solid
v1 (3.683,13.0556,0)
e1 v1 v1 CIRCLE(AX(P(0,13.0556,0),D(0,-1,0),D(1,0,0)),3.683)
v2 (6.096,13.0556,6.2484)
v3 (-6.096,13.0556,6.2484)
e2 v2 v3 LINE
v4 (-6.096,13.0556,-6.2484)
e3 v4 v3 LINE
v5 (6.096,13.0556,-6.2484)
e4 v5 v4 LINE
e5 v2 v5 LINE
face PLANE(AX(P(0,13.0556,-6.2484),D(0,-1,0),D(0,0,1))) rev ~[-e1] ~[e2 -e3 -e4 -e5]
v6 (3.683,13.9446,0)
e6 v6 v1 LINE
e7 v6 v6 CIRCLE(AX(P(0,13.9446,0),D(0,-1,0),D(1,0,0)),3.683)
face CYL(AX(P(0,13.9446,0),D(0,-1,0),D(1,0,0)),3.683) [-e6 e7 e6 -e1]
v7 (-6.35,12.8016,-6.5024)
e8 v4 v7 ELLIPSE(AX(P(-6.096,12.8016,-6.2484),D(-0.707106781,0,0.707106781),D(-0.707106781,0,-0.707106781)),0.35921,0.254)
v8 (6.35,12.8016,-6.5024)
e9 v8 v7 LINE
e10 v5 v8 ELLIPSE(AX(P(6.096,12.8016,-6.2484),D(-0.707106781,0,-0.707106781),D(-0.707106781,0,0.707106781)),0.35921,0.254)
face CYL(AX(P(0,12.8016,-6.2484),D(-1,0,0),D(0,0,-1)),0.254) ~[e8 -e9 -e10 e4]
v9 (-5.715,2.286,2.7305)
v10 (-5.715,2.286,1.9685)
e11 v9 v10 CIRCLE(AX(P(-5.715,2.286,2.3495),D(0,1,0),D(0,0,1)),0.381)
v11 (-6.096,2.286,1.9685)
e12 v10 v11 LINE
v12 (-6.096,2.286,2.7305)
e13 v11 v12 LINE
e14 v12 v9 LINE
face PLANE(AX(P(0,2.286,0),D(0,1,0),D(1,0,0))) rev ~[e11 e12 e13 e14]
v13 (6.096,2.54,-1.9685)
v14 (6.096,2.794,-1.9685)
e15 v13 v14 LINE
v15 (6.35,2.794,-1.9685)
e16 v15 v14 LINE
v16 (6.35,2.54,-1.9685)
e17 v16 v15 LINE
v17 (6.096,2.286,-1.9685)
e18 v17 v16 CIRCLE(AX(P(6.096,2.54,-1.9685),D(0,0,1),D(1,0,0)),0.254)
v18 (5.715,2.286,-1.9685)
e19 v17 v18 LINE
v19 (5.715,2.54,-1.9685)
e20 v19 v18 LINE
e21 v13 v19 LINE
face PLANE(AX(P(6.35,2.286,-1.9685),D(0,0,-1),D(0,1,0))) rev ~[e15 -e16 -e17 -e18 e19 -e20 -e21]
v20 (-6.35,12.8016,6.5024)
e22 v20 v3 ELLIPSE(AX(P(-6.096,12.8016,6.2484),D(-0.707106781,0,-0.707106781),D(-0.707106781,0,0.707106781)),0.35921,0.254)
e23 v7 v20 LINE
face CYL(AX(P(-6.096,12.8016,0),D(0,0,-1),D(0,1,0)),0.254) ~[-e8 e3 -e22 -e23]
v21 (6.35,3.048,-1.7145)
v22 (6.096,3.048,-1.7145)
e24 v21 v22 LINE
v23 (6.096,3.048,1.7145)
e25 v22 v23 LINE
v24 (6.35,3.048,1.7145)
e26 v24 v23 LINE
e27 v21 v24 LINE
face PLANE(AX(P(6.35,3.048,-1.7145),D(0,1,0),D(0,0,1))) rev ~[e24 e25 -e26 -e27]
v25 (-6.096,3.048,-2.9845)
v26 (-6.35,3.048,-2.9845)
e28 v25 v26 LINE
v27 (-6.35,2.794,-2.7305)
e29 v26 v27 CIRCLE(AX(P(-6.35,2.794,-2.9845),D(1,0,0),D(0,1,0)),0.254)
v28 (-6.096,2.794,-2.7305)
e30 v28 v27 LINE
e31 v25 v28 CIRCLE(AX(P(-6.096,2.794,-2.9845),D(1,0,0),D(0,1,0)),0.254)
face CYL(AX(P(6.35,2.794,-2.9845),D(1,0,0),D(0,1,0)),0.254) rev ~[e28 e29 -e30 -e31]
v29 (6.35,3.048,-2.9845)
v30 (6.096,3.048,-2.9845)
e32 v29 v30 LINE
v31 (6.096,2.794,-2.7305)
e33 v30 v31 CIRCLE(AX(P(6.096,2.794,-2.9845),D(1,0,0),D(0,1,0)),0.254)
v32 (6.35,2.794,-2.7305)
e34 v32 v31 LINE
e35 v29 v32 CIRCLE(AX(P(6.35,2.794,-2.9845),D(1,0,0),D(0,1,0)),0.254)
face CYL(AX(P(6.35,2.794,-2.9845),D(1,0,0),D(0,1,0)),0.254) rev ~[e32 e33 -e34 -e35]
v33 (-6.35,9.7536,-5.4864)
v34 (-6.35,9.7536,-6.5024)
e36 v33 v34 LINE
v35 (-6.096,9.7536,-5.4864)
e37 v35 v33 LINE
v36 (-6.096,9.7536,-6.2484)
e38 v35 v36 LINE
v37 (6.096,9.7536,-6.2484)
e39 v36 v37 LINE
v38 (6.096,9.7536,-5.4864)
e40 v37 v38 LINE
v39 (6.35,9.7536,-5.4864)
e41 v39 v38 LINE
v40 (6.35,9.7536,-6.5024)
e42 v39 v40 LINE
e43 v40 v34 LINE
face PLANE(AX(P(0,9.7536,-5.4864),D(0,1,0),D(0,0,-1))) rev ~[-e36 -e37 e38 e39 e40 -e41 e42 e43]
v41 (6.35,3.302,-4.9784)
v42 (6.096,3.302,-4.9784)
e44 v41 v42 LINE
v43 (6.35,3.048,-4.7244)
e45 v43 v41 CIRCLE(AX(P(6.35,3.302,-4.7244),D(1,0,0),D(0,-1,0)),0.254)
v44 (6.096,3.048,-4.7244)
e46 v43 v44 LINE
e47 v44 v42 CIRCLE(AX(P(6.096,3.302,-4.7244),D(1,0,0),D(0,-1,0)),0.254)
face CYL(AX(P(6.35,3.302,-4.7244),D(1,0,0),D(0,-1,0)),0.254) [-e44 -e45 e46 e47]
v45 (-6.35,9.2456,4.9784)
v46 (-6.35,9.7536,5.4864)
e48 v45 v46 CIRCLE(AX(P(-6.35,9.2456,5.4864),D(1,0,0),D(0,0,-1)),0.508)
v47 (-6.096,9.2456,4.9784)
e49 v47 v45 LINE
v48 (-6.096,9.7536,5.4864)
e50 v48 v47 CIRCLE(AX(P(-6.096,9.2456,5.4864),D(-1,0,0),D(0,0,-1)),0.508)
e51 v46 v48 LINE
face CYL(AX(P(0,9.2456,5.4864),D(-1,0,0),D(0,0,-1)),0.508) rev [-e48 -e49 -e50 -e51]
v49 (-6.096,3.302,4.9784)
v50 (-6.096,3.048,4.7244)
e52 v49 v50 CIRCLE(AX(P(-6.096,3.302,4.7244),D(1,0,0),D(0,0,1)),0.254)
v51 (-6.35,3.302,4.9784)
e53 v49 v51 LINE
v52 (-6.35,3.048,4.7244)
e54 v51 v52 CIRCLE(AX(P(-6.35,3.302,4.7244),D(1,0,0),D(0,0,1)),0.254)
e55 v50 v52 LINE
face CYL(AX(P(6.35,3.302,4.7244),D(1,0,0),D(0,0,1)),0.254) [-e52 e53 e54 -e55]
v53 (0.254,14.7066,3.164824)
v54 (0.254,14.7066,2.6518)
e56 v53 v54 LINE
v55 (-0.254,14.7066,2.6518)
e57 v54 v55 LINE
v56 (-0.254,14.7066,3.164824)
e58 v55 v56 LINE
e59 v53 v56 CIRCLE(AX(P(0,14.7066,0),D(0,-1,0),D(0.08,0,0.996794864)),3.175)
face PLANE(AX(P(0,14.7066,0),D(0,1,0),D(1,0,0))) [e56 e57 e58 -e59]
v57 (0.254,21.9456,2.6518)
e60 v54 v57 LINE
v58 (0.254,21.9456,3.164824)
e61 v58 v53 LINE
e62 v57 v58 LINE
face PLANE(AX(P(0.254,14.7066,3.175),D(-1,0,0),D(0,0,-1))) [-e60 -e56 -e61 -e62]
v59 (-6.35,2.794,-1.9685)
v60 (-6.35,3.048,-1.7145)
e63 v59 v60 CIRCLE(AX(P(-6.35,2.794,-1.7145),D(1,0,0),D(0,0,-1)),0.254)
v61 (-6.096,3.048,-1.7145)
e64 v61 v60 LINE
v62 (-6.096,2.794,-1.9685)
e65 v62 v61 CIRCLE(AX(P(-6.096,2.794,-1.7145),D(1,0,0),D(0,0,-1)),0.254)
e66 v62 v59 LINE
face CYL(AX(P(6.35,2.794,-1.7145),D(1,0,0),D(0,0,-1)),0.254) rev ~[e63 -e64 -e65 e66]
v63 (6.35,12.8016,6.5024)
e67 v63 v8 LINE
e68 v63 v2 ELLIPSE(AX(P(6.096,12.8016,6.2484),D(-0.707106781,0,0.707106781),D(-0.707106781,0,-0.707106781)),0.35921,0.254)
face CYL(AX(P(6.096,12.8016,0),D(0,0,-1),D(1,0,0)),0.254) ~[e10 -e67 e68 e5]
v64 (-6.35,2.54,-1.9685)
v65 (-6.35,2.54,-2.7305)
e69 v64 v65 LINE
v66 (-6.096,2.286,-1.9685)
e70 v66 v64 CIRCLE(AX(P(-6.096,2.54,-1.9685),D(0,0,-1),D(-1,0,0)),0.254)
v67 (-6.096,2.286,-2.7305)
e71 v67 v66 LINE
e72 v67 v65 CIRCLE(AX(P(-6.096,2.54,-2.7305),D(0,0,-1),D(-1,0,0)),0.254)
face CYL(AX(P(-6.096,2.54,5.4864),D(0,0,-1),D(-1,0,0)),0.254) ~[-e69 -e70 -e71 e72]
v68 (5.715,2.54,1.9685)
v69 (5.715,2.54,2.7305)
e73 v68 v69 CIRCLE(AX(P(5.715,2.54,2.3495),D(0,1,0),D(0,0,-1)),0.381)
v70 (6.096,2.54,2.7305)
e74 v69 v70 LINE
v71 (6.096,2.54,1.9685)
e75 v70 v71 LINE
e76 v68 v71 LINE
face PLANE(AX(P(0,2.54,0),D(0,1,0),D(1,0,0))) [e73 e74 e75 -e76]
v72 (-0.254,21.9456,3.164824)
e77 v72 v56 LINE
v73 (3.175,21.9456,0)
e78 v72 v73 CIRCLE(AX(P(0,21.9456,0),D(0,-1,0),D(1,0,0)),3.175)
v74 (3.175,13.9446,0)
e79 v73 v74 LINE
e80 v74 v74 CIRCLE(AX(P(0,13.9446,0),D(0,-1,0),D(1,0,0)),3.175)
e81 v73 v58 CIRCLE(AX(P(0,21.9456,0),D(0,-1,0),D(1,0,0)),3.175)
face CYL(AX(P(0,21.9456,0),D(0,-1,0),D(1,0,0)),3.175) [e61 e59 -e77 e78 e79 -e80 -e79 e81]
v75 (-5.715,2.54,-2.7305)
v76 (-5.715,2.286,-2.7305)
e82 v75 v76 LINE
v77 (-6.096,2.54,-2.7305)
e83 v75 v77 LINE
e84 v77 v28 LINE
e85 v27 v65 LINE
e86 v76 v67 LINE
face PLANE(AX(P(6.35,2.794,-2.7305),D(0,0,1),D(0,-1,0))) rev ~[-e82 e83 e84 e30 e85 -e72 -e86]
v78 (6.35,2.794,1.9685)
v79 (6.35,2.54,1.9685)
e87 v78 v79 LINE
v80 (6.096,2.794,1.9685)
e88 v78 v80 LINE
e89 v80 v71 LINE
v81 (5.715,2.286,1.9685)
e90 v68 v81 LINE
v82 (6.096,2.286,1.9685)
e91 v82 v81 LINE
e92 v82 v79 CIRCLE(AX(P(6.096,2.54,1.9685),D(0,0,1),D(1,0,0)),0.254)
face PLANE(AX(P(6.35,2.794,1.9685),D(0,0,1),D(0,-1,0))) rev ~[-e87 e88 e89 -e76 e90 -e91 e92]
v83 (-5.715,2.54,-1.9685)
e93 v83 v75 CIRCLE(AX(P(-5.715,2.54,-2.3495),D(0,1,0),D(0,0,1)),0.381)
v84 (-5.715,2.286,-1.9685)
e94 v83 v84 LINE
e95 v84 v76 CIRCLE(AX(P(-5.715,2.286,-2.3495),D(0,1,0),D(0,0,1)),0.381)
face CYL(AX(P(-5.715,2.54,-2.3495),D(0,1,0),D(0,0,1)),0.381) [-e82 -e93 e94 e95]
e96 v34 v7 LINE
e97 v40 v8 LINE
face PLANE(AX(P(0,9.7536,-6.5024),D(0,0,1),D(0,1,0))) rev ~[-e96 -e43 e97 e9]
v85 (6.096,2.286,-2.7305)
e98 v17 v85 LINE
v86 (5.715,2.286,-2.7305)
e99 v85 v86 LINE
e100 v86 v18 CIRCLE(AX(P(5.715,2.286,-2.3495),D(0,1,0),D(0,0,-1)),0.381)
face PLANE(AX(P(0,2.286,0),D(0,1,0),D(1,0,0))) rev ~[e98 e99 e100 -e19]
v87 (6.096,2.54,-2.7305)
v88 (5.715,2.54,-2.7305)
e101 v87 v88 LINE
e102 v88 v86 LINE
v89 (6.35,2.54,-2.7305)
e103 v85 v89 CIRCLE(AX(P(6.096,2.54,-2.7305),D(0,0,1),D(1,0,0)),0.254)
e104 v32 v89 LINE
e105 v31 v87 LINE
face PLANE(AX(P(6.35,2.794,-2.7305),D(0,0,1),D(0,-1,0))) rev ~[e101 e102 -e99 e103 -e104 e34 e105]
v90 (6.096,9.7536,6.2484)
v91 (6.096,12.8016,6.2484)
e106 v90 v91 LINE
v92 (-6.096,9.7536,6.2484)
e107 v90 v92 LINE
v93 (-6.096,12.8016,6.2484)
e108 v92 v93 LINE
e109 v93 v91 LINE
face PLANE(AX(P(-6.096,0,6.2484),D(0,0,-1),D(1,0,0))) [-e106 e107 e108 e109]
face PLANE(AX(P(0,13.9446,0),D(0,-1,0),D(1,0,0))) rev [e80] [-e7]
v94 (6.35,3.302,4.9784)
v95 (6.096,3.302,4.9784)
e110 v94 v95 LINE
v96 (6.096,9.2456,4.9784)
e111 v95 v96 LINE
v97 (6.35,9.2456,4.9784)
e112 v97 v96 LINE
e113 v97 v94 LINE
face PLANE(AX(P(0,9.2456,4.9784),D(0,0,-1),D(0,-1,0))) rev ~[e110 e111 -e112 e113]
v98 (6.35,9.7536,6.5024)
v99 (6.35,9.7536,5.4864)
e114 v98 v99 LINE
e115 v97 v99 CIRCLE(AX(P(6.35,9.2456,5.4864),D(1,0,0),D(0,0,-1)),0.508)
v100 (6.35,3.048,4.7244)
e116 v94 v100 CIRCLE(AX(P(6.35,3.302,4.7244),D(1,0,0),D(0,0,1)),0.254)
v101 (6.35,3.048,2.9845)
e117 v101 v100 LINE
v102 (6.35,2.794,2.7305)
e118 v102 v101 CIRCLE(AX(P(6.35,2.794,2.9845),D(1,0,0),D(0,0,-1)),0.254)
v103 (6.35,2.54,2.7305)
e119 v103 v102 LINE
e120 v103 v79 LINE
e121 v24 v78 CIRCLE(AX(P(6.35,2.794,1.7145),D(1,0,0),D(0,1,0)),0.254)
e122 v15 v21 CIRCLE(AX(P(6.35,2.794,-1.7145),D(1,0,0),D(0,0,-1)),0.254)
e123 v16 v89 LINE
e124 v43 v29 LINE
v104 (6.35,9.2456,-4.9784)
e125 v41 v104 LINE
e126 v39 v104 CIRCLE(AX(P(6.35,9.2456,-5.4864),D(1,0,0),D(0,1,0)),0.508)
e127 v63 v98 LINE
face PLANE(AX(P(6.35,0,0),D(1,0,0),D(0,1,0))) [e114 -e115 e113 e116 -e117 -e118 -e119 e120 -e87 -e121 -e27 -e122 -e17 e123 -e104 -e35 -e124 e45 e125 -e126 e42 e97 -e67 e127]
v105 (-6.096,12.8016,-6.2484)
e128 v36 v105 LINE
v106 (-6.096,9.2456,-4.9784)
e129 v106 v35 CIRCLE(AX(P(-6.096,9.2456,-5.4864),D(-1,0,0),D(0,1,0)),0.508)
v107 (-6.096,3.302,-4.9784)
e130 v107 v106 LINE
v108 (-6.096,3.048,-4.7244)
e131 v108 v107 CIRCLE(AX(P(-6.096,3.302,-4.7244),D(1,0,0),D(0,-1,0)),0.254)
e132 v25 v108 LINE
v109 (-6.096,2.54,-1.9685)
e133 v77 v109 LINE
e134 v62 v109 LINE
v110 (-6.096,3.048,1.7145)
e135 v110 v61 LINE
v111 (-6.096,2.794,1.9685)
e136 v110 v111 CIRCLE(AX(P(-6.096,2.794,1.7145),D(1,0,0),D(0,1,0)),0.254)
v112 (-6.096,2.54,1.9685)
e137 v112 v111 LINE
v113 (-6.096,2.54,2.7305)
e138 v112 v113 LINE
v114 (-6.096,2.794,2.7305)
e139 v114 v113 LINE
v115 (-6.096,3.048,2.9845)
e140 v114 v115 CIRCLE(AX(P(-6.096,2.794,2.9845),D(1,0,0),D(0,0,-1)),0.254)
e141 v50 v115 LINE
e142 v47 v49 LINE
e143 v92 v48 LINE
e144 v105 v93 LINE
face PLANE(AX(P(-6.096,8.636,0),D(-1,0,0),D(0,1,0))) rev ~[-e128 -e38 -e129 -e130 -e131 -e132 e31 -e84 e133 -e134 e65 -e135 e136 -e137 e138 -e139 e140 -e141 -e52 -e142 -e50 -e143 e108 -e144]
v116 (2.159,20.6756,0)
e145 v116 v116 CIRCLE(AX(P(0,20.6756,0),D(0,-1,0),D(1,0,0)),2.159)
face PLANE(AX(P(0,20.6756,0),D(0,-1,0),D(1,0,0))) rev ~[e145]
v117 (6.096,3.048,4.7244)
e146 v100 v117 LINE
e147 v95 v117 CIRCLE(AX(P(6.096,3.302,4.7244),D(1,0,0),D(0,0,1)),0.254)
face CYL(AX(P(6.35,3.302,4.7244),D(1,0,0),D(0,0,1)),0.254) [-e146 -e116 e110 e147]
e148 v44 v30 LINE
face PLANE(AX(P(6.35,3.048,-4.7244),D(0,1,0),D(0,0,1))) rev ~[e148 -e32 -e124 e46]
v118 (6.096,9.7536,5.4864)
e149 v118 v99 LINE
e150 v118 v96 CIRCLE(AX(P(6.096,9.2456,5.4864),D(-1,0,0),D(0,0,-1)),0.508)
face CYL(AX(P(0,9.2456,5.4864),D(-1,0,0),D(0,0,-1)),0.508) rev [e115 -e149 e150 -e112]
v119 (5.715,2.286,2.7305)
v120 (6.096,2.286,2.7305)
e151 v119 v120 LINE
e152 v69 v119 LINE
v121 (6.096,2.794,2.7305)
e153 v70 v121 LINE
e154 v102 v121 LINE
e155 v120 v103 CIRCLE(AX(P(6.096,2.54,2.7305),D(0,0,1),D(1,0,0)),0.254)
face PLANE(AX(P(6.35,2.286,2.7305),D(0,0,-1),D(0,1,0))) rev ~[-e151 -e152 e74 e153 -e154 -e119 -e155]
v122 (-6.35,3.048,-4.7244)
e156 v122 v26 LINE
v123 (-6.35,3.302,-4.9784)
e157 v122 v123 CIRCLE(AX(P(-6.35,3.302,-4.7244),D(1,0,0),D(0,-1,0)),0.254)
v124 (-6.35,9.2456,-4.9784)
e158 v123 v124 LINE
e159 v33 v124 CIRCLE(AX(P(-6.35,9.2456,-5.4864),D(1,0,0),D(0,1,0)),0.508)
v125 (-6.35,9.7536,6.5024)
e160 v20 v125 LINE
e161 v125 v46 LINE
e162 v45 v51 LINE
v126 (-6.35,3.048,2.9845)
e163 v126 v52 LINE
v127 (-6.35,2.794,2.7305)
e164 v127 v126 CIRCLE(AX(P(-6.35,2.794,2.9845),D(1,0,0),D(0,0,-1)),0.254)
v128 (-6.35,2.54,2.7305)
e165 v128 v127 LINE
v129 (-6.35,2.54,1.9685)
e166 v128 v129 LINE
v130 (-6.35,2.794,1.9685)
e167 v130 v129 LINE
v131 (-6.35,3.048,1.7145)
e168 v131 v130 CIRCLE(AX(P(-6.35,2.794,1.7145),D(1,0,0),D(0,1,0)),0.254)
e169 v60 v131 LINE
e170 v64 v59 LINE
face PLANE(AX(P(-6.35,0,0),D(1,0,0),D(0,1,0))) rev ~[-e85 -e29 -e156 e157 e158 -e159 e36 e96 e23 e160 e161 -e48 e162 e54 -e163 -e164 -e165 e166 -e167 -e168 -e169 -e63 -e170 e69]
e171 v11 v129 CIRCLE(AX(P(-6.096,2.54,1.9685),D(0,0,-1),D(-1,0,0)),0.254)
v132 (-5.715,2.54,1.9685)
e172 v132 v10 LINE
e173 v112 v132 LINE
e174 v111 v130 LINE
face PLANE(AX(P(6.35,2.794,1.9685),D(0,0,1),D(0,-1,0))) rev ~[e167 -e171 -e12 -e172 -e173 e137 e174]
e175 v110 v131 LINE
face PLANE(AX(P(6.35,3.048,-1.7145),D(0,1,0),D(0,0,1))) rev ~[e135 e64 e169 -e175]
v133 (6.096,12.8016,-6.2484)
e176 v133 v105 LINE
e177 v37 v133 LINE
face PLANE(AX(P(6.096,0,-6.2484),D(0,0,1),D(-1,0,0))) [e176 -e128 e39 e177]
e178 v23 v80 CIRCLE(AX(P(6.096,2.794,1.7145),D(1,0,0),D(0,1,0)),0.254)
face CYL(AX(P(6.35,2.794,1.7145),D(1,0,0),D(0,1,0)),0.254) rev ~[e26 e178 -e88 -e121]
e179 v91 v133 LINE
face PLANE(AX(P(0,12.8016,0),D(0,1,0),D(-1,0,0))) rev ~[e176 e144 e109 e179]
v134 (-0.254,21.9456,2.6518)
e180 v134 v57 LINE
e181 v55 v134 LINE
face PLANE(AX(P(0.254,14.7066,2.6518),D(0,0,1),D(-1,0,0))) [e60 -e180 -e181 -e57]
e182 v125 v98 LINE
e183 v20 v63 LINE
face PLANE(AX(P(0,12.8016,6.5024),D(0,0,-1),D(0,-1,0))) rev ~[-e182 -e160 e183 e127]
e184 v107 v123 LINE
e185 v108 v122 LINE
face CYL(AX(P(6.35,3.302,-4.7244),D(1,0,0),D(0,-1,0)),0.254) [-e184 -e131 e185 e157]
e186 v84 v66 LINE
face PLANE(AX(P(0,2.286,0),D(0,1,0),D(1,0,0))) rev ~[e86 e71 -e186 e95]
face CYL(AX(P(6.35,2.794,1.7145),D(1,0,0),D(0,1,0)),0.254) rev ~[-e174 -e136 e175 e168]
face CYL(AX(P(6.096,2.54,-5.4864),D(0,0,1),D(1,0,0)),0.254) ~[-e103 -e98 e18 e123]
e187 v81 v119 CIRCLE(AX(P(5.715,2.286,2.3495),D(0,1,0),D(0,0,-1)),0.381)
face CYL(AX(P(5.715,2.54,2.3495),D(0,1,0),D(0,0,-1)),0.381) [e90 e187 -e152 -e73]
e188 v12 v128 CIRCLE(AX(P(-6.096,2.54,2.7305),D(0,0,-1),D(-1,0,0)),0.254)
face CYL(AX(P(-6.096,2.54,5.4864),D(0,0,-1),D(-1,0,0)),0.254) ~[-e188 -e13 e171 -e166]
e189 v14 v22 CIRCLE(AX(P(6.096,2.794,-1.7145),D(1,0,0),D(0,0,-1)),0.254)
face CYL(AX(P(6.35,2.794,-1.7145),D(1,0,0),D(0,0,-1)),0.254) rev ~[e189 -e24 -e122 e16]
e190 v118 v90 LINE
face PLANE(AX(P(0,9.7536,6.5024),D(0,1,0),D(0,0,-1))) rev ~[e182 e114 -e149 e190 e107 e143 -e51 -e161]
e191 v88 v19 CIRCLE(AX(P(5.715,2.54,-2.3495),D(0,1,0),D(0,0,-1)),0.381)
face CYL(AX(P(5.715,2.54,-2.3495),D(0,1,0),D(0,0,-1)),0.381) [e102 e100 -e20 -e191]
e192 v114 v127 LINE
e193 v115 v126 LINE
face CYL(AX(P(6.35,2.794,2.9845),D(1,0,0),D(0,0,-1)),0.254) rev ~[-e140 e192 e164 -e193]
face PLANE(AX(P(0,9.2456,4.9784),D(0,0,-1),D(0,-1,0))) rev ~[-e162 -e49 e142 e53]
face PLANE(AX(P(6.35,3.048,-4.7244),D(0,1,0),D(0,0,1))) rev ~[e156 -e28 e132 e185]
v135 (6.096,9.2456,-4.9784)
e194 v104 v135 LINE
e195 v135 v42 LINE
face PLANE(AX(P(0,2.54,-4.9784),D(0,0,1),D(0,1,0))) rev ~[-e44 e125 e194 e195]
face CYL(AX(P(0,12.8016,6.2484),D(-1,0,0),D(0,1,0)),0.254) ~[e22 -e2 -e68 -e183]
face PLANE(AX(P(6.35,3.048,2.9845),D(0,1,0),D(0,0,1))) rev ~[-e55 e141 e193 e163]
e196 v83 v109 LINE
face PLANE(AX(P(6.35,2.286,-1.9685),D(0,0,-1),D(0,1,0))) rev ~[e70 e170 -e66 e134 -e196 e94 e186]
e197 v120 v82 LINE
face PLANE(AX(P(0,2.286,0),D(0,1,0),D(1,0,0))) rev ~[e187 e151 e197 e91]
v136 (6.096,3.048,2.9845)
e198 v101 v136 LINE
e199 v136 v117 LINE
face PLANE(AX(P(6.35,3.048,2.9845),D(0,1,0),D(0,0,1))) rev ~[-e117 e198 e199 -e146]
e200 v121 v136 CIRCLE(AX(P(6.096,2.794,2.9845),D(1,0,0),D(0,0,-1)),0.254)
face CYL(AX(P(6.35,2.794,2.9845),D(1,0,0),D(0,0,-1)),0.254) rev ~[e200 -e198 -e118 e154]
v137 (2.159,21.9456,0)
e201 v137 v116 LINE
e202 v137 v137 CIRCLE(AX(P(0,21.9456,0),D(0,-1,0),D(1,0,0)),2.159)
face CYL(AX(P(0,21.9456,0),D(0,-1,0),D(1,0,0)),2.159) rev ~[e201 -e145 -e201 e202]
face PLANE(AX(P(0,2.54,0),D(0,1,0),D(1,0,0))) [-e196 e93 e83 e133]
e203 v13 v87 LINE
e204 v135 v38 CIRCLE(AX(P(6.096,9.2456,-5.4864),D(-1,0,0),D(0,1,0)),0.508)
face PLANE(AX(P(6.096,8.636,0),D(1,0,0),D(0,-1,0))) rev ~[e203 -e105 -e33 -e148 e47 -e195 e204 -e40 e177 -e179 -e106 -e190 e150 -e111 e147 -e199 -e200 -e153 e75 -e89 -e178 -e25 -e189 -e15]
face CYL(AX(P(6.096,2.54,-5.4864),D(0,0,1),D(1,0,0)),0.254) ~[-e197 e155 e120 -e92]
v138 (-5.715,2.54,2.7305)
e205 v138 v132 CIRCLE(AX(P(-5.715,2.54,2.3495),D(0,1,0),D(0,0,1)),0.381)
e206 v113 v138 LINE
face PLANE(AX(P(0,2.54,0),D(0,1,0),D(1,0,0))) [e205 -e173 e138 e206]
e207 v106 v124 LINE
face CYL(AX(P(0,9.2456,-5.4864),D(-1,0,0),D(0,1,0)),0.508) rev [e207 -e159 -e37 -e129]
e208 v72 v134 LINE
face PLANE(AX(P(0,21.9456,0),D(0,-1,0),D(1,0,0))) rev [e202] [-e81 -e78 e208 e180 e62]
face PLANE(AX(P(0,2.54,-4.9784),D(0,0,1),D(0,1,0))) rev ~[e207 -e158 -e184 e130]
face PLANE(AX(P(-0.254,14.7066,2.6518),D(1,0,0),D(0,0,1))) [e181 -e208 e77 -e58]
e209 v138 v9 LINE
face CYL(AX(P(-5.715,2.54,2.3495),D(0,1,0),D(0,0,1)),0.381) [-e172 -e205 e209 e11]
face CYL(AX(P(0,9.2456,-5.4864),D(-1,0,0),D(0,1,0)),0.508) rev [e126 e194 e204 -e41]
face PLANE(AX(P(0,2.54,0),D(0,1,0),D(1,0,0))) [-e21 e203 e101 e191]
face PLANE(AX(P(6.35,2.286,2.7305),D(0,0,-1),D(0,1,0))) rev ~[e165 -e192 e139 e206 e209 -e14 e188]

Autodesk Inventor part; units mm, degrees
sketch "Sketch_1" plane through (0, 0, 0) normal (1, 0, 0) x (0, 1, 0)
  line L0 (12.8016, 6.5024) -> (9.7536, 6.5024)
  line L1 (9.7536, 6.5024) -> (9.7536, 5.4864)
  arc A0 (9.2456, 4.9784) -> (9.7536, 5.4864) centre (9.2456, 5.4864) ccw
  line L2 (9.2456, 4.9784) -> (2.54, 4.9784)
  line L3 (2.54, 4.9784) -> (2.54, -4.9784)
  line L4 (2.54, -4.9784) -> (9.2456, -4.9784)
  arc A1 (9.7536, -5.4864) -> (9.2456, -4.9784) centre (9.2456, -5.4864) ccw
  line L5 (9.7536, -5.4864) -> (9.7536, -6.5024)
  line L6 (9.7536, -6.5024) -> (12.8016, -6.5024)
  arc A2 (12.8016, -6.5024) -> (13.0556, -6.2484) centre (12.8016, -6.2484) ccw
  line L7 (13.0556, -6.2484) -> (13.0556, 6.2484)
  arc A3 (13.0556, 6.2484) -> (12.8016, 6.5024) centre (12.8016, 6.2484) ccw
extrude "Extrusion1" add sketch "Sketch_1" along normal mid plane 12.7
sketch "Sketch_2" plane through (0, 0, 0) normal (0, 1, 0) x (-1, 0, 0)
  line L0 (6.096, 6.2484) -> (-6.096, 6.2484)
  line L1 (-6.096, 6.2484) -> (-6.096, -6.2484)
  line L2 (-6.096, -6.2484) -> (6.096, -6.2484)
  line L3 (6.096, -6.2484) -> (6.096, 6.2484)
extrude "Extrusion2" cut sketch "Sketch_2" along normal blind 12.8016
sketch "Sketch_3" plane through (0, 0, 0) normal (0, 0, 1) x (1, 0, 0)
  line L0 (-6.35, 15.24) -> (-6.35, 12.8016)
  arc A0 (-6.096, 13.0556) -> (-6.35, 12.8016) centre (-6.096, 12.8016) ccw
  line L1 (-6.096, 13.0556) -> (6.096, 13.0556)
  arc A1 (6.35, 12.8016) -> (6.096, 13.0556) centre (6.096, 12.8016) ccw
  line L2 (6.35, 12.8016) -> (6.35, 15.24)
  line L3 (6.35, 15.24) -> (-6.35, 15.24)
extrude "Extrusion3" cut sketch "Sketch_3" along normal mid plane 25.6032
sketch "Sketch_4" plane through (0, 2.54, 0) normal (0, 1, 0) x (1, 0, 0)
  line L0 (-6.096, 5.4864) -> (-6.096, -5.4864)
  line L1 (-6.096, -5.4864) -> (-6.35, -5.4864)
  line L2 (-6.35, -5.4864) -> (-6.35, 5.4864)
  line L3 (-6.35, 5.4864) -> (-6.096, 5.4864)
  line L4 (-6.096, 5.4864) -> (-6.096, -5.4864)
revolve "Revolution1" add sketch "Sketch_4" angle 90 about axis through (-6.096, 2.54, -5.4864) along (0, 0, 1)
sketch "Sketch_5" plane through (0, 2.54, 0) normal (0, 1, 0) x (1, 0, 0)
  line L0 (6.096, -5.4864) -> (6.096, 5.4864)
  line L1 (6.096, 5.4864) -> (6.35, 5.4864)
  line L2 (6.35, 5.4864) -> (6.35, -5.4864)
  line L3 (6.35, -5.4864) -> (6.096, -5.4864)
  line L4 (6.096, -5.4864) -> (6.096, 5.4864)
revolve "Revolution2" add sketch "Sketch_5" angle 90 about axis through (6.096, 2.54, 5.4864) along (0, 0, -1)
sketch "Sketch_6" plane through (0, 2.54, 0) normal (0, 1, 0) x (1, 0, 0)
  line L0 (-6.096, 2.7305) -> (-6.096, -2.7305)
  line L1 (-6.096, -2.7305) -> (-5.715, -2.7305)
  arc A0 (-5.715, -2.7305) -> (-5.715, -1.9685) centre (-5.715, -2.3495) ccw
  line L2 (-5.715, -1.9685) -> (-5.715, 1.9685)
  arc A1 (-5.715, 1.9685) -> (-5.715, 2.7305) centre (-5.715, 2.3495) ccw
  line L3 (-5.715, 2.7305) -> (-6.096, 2.7305)
extrude "Extrusion4" add sketch "Sketch_6" against normal blind 0.254
sketch "Sketch_7" plane through (0, 2.54, 0) normal (0, 1, 0) x (1, 0, 0)
  arc A0 (5.715, 2.7305) -> (5.715, 1.9685) centre (5.715, 2.3495) ccw
  line L0 (5.715, 1.9685) -> (5.715, -1.9685)
  arc A1 (5.715, -1.9685) -> (5.715, -2.7305) centre (5.715, -2.3495) ccw
  line L1 (5.715, -2.7305) -> (6.096, -2.7305)
  line L2 (6.096, -2.7305) -> (6.096, 2.7305)
  line L3 (6.096, 2.7305) -> (5.715, 2.7305)
extrude "Extrusion5" add sketch "Sketch_7" against normal blind 0.254
sketch "Sketch_8" plane through (6.35, 0, 0) normal (1, 0, 0) x (0, 0, -1)
  line L0 (-7.1863, 0) -> (7.752, 0)
  line L1 (7.752, 0) -> (7.752, 3.302)
  line L2 (7.752, 3.302) -> (4.9784, 3.302)
  arc A0 (4.7244, 3.048) -> (4.9784, 3.302) centre (4.7244, 3.302) ccw
  line L3 (4.7244, 3.048) -> (2.9845, 3.048)
  arc A1 (2.9845, 3.048) -> (2.7305, 2.794) centre (2.9845, 2.794) ccw
  line L4 (2.7305, 2.794) -> (2.7305, 2.286)
  line L5 (2.7305, 2.286) -> (1.9685, 2.286)
  line L6 (1.9685, 2.286) -> (1.9685, 2.794)
  arc A2 (1.9685, 2.794) -> (1.7145, 3.048) centre (1.7145, 2.794) ccw
  line L7 (1.7145, 3.048) -> (-1.7145, 3.048)
  arc A3 (-1.7145, 3.048) -> (-1.9685, 2.794) centre (-1.7145, 2.794) ccw
  line L8 (-1.9685, 2.794) -> (-1.9685, 2.286)
  line L9 (-1.9685, 2.286) -> (-2.7305, 2.286)
  line L10 (-2.7305, 2.286) -> (-2.7305, 2.794)
  arc A4 (-2.7305, 2.794) -> (-2.9845, 3.048) centre (-2.9845, 2.794) ccw
  line L11 (-2.9845, 3.048) -> (-4.7244, 3.048)
  arc A5 (-4.9784, 3.302) -> (-4.7244, 3.048) centre (-4.7244, 3.302) ccw
  line L12 (-4.9784, 3.302) -> (-7.1863, 3.302)
  line L13 (-7.1863, 3.302) -> (-7.1863, 0)
extrude "Extrusion6" cut sketch "Sketch_8" against normal blind 25.4
sketch "Sketch_17" plane through (0, 0, 0) normal (0, 0, 1) x (1, 0, 0)
  line L0 (0, 13.0556) -> (0, 21.9456)
  line L1 (0, 21.9456) -> (3.175, 21.9456)
  line L2 (3.175, 21.9456) -> (3.175, 13.9446)
  line L3 (3.175, 13.9446) -> (3.683, 13.9446)
  line L4 (3.683, 13.9446) -> (3.683, 13.0556)
  line L5 (3.683, 13.0556) -> (0, 13.0556)
  line L6 (0, 13.0556) -> (0, 21.9456)
revolve "Revolution3" add sketch "Sketch_17" angle 360 about axis through (0, 13.0556, 0) along (0, -1, 0)
thread "Thread1" size "1/4-24 UNS" class "2A" standard "ANSI Unified Screw Threads" full length
sketch "Sketch_19" plane through (0, 0, 0) normal (0, 0, 1) x (1, 0, 0)
  line L0 (0, 20.6756) -> (0, 21.9456)
  line L1 (0, 21.9456) -> (2.159, 21.9456)
  line L2 (2.159, 21.9456) -> (2.159, 20.6756)
  line L3 (2.159, 20.6756) -> (0, 20.6756)
  line L4 (0, 20.6756) -> (0, 21.9456)
revolve "Revolution4" cut sketch "Sketch_19" angle 360 about axis through (0, 20.6756, 0) along (0, -1, 0)
sketch "Sketch_35" plane through (0, 14.7066, 0) normal (0, 1, 0) x (1, 0, 0)
  line L0 (-0.254, -3.175) -> (0.254, -3.175)
  line L1 (0.254, -3.175) -> (0.254, -2.6518)
  line L2 (0.254, -2.6518) -> (-0.254, -2.6518)
  line L3 (-0.254, -2.6518) -> (-0.254, -3.175)
extrude "Extrusion7" cut sketch "Sketch_35" along normal blind 20.32
ref_plane "at507h_XY" through (0, 16.3576, 0) normal (0, 1, 0) x (1, 0, 0)
ref_plane "at507h_YZ" through (0, 16.3576, 0) normal (1, 0, 0) x (0, 0, -1)
ref_plane "at507h_ZX" through (0, 16.3576, 0) normal (0, 0, -1) x (0, 1, 0)
ref_plane "at507h_dual_XY" through (-2.4003, 16.3576, 0) normal (0, 1, 0) x (1, 0, 0)
ref_plane "at507h_dual_YZ" through (-2.4003, 16.3576, 0) normal (1, 0, 0) x (0, 0, -1)
ref_plane "at507h_dual_ZX" through (-2.4003, 16.3576, 0) normal (0, 0, -1) x (0, 1, 0)
ref_plane "at509_XY" through (0, 15.7099, 0) normal (0, 1, 0) x (1, 0, 0)
ref_plane "at509_YZ" through (0, 15.7099, 0) normal (1, 0, 0) x (0, 0, -1)
ref_plane "at509_ZX" through (0, 15.7099, 0) normal (0, 0, -1) x (0, 1, 0)
ref_plane "at509_dual_XY" through (-2.4003, 15.7099, 0) normal (0, 1, 0) x (1, 0, 0)
ref_plane "at509_dual_YZ" through (-2.4003, 15.7099, 0) normal (1, 0, 0) x (0, 0, -1)
ref_plane "at509_dual_ZX" through (-2.4003, 15.7099, 0) normal (0, 0, -1) x (0, 1, 0)
ref_plane "at513h_XY" through (0, 14.7066, 0) normal (0, 1, 0) x (1, 0, 0)
ref_plane "at513h_YZ" through (0, 14.7066, 0) normal (1, 0, 0) x (0, 0, -1)
ref_plane "at513h_ZX" through (0, 14.7066, 0) normal (0, 0, -1) x (0, 1, 0)
ref_plane "at513h_dual_XY" through (-2.4003, 14.7066, 0) normal (0, 1, 0) x (1, 0, 0)
ref_plane "at513h_dual_YZ" through (-2.4003, 14.7066, 0) normal (1, 0, 0) x (0, 0, -1)
ref_plane "at513h_dual_ZX" through (-2.4003, 14.7066, 0) normal (0, 0, -1) x (0, 1, 0)
ref_plane "body_c_to_bracket_XY" through (0, 13.0556, 0) normal (0, -1, 0) x (1, 0, 0)
ref_plane "body_c_to_bracket_YZ" through (0, 13.0556, 0) normal (1, 0, 0) x (0, 0, 1)
ref_plane "body_c_to_bracket_ZX" through (0, 13.0556, 0) normal (0, 0, 1) x (0, -1, 0)
ref_plane "body_cover_to_body_XY" through (0, 12.8016, 0) normal (0, 1, 0) x (1, 0, 0)
ref_plane "body_cover_to_body_YZ" through (0, 12.8016, 0) normal (1, 0, 0) x (0, 0, -1)
ref_plane "body_cover_to_body_ZX" through (0, 12.8016, 0) normal (0, 0, -1) x (0, 1, 0)
ref_plane "body_cover_to_toggle_XY" through (0, 18.1356, 0) normal (0, 1, 0) x (1, 0, 0)
ref_plane "body_cover_to_toggle_YZ" through (0, 18.1356, 0) normal (1, 0, 0) x (0, 0, -1)
ref_plane "body_cover_to_toggle_ZX" through (0, 18.1356, 0) normal (0, 0, -1) x (0, 1, 0)
ref_plane "body_cover_to_toggle2_XY" through (-2.4003, 18.1356, 0) normal (0, 1, 0) x (1, 0, 0)
ref_plane "body_cover_to_toggle2_YZ" through (-2.4003, 18.1356, 0) normal (1, 0, 0) x (0, 0, -1)
ref_plane "body_cover_to_toggle2_ZX" through (-2.4003, 18.1356, 0) normal (0, 0, -1) x (0, 1, 0)
ref_plane "st513h_2_XY" through (0, 17.5006, 0) normal (0, 1, 0) x (1, 0, 0)
ref_plane "st513h_2_YZ" through (0, 17.5006, 0) normal (1, 0, 0) x (0, 0, -1)
ref_plane "st513h_2_ZX" through (0, 17.5006, 0) normal (0, 0, -1) x (0, 1, 0)
ref_plane "st513h_2_dual_XY" through (-2.4003, 17.5006, 0) normal (0, 1, 0) x (1, 0, 0)
ref_plane "st513h_2_dual_YZ" through (-2.4003, 17.5006, 0) normal (1, 0, 0) x (0, 0, -1)
ref_plane "st513h_2_dual_ZX" through (-2.4003, 17.5006, 0) normal (0, 0, -1) x (0, 1, 0)
properties part number "M211LW01-body-cover"
